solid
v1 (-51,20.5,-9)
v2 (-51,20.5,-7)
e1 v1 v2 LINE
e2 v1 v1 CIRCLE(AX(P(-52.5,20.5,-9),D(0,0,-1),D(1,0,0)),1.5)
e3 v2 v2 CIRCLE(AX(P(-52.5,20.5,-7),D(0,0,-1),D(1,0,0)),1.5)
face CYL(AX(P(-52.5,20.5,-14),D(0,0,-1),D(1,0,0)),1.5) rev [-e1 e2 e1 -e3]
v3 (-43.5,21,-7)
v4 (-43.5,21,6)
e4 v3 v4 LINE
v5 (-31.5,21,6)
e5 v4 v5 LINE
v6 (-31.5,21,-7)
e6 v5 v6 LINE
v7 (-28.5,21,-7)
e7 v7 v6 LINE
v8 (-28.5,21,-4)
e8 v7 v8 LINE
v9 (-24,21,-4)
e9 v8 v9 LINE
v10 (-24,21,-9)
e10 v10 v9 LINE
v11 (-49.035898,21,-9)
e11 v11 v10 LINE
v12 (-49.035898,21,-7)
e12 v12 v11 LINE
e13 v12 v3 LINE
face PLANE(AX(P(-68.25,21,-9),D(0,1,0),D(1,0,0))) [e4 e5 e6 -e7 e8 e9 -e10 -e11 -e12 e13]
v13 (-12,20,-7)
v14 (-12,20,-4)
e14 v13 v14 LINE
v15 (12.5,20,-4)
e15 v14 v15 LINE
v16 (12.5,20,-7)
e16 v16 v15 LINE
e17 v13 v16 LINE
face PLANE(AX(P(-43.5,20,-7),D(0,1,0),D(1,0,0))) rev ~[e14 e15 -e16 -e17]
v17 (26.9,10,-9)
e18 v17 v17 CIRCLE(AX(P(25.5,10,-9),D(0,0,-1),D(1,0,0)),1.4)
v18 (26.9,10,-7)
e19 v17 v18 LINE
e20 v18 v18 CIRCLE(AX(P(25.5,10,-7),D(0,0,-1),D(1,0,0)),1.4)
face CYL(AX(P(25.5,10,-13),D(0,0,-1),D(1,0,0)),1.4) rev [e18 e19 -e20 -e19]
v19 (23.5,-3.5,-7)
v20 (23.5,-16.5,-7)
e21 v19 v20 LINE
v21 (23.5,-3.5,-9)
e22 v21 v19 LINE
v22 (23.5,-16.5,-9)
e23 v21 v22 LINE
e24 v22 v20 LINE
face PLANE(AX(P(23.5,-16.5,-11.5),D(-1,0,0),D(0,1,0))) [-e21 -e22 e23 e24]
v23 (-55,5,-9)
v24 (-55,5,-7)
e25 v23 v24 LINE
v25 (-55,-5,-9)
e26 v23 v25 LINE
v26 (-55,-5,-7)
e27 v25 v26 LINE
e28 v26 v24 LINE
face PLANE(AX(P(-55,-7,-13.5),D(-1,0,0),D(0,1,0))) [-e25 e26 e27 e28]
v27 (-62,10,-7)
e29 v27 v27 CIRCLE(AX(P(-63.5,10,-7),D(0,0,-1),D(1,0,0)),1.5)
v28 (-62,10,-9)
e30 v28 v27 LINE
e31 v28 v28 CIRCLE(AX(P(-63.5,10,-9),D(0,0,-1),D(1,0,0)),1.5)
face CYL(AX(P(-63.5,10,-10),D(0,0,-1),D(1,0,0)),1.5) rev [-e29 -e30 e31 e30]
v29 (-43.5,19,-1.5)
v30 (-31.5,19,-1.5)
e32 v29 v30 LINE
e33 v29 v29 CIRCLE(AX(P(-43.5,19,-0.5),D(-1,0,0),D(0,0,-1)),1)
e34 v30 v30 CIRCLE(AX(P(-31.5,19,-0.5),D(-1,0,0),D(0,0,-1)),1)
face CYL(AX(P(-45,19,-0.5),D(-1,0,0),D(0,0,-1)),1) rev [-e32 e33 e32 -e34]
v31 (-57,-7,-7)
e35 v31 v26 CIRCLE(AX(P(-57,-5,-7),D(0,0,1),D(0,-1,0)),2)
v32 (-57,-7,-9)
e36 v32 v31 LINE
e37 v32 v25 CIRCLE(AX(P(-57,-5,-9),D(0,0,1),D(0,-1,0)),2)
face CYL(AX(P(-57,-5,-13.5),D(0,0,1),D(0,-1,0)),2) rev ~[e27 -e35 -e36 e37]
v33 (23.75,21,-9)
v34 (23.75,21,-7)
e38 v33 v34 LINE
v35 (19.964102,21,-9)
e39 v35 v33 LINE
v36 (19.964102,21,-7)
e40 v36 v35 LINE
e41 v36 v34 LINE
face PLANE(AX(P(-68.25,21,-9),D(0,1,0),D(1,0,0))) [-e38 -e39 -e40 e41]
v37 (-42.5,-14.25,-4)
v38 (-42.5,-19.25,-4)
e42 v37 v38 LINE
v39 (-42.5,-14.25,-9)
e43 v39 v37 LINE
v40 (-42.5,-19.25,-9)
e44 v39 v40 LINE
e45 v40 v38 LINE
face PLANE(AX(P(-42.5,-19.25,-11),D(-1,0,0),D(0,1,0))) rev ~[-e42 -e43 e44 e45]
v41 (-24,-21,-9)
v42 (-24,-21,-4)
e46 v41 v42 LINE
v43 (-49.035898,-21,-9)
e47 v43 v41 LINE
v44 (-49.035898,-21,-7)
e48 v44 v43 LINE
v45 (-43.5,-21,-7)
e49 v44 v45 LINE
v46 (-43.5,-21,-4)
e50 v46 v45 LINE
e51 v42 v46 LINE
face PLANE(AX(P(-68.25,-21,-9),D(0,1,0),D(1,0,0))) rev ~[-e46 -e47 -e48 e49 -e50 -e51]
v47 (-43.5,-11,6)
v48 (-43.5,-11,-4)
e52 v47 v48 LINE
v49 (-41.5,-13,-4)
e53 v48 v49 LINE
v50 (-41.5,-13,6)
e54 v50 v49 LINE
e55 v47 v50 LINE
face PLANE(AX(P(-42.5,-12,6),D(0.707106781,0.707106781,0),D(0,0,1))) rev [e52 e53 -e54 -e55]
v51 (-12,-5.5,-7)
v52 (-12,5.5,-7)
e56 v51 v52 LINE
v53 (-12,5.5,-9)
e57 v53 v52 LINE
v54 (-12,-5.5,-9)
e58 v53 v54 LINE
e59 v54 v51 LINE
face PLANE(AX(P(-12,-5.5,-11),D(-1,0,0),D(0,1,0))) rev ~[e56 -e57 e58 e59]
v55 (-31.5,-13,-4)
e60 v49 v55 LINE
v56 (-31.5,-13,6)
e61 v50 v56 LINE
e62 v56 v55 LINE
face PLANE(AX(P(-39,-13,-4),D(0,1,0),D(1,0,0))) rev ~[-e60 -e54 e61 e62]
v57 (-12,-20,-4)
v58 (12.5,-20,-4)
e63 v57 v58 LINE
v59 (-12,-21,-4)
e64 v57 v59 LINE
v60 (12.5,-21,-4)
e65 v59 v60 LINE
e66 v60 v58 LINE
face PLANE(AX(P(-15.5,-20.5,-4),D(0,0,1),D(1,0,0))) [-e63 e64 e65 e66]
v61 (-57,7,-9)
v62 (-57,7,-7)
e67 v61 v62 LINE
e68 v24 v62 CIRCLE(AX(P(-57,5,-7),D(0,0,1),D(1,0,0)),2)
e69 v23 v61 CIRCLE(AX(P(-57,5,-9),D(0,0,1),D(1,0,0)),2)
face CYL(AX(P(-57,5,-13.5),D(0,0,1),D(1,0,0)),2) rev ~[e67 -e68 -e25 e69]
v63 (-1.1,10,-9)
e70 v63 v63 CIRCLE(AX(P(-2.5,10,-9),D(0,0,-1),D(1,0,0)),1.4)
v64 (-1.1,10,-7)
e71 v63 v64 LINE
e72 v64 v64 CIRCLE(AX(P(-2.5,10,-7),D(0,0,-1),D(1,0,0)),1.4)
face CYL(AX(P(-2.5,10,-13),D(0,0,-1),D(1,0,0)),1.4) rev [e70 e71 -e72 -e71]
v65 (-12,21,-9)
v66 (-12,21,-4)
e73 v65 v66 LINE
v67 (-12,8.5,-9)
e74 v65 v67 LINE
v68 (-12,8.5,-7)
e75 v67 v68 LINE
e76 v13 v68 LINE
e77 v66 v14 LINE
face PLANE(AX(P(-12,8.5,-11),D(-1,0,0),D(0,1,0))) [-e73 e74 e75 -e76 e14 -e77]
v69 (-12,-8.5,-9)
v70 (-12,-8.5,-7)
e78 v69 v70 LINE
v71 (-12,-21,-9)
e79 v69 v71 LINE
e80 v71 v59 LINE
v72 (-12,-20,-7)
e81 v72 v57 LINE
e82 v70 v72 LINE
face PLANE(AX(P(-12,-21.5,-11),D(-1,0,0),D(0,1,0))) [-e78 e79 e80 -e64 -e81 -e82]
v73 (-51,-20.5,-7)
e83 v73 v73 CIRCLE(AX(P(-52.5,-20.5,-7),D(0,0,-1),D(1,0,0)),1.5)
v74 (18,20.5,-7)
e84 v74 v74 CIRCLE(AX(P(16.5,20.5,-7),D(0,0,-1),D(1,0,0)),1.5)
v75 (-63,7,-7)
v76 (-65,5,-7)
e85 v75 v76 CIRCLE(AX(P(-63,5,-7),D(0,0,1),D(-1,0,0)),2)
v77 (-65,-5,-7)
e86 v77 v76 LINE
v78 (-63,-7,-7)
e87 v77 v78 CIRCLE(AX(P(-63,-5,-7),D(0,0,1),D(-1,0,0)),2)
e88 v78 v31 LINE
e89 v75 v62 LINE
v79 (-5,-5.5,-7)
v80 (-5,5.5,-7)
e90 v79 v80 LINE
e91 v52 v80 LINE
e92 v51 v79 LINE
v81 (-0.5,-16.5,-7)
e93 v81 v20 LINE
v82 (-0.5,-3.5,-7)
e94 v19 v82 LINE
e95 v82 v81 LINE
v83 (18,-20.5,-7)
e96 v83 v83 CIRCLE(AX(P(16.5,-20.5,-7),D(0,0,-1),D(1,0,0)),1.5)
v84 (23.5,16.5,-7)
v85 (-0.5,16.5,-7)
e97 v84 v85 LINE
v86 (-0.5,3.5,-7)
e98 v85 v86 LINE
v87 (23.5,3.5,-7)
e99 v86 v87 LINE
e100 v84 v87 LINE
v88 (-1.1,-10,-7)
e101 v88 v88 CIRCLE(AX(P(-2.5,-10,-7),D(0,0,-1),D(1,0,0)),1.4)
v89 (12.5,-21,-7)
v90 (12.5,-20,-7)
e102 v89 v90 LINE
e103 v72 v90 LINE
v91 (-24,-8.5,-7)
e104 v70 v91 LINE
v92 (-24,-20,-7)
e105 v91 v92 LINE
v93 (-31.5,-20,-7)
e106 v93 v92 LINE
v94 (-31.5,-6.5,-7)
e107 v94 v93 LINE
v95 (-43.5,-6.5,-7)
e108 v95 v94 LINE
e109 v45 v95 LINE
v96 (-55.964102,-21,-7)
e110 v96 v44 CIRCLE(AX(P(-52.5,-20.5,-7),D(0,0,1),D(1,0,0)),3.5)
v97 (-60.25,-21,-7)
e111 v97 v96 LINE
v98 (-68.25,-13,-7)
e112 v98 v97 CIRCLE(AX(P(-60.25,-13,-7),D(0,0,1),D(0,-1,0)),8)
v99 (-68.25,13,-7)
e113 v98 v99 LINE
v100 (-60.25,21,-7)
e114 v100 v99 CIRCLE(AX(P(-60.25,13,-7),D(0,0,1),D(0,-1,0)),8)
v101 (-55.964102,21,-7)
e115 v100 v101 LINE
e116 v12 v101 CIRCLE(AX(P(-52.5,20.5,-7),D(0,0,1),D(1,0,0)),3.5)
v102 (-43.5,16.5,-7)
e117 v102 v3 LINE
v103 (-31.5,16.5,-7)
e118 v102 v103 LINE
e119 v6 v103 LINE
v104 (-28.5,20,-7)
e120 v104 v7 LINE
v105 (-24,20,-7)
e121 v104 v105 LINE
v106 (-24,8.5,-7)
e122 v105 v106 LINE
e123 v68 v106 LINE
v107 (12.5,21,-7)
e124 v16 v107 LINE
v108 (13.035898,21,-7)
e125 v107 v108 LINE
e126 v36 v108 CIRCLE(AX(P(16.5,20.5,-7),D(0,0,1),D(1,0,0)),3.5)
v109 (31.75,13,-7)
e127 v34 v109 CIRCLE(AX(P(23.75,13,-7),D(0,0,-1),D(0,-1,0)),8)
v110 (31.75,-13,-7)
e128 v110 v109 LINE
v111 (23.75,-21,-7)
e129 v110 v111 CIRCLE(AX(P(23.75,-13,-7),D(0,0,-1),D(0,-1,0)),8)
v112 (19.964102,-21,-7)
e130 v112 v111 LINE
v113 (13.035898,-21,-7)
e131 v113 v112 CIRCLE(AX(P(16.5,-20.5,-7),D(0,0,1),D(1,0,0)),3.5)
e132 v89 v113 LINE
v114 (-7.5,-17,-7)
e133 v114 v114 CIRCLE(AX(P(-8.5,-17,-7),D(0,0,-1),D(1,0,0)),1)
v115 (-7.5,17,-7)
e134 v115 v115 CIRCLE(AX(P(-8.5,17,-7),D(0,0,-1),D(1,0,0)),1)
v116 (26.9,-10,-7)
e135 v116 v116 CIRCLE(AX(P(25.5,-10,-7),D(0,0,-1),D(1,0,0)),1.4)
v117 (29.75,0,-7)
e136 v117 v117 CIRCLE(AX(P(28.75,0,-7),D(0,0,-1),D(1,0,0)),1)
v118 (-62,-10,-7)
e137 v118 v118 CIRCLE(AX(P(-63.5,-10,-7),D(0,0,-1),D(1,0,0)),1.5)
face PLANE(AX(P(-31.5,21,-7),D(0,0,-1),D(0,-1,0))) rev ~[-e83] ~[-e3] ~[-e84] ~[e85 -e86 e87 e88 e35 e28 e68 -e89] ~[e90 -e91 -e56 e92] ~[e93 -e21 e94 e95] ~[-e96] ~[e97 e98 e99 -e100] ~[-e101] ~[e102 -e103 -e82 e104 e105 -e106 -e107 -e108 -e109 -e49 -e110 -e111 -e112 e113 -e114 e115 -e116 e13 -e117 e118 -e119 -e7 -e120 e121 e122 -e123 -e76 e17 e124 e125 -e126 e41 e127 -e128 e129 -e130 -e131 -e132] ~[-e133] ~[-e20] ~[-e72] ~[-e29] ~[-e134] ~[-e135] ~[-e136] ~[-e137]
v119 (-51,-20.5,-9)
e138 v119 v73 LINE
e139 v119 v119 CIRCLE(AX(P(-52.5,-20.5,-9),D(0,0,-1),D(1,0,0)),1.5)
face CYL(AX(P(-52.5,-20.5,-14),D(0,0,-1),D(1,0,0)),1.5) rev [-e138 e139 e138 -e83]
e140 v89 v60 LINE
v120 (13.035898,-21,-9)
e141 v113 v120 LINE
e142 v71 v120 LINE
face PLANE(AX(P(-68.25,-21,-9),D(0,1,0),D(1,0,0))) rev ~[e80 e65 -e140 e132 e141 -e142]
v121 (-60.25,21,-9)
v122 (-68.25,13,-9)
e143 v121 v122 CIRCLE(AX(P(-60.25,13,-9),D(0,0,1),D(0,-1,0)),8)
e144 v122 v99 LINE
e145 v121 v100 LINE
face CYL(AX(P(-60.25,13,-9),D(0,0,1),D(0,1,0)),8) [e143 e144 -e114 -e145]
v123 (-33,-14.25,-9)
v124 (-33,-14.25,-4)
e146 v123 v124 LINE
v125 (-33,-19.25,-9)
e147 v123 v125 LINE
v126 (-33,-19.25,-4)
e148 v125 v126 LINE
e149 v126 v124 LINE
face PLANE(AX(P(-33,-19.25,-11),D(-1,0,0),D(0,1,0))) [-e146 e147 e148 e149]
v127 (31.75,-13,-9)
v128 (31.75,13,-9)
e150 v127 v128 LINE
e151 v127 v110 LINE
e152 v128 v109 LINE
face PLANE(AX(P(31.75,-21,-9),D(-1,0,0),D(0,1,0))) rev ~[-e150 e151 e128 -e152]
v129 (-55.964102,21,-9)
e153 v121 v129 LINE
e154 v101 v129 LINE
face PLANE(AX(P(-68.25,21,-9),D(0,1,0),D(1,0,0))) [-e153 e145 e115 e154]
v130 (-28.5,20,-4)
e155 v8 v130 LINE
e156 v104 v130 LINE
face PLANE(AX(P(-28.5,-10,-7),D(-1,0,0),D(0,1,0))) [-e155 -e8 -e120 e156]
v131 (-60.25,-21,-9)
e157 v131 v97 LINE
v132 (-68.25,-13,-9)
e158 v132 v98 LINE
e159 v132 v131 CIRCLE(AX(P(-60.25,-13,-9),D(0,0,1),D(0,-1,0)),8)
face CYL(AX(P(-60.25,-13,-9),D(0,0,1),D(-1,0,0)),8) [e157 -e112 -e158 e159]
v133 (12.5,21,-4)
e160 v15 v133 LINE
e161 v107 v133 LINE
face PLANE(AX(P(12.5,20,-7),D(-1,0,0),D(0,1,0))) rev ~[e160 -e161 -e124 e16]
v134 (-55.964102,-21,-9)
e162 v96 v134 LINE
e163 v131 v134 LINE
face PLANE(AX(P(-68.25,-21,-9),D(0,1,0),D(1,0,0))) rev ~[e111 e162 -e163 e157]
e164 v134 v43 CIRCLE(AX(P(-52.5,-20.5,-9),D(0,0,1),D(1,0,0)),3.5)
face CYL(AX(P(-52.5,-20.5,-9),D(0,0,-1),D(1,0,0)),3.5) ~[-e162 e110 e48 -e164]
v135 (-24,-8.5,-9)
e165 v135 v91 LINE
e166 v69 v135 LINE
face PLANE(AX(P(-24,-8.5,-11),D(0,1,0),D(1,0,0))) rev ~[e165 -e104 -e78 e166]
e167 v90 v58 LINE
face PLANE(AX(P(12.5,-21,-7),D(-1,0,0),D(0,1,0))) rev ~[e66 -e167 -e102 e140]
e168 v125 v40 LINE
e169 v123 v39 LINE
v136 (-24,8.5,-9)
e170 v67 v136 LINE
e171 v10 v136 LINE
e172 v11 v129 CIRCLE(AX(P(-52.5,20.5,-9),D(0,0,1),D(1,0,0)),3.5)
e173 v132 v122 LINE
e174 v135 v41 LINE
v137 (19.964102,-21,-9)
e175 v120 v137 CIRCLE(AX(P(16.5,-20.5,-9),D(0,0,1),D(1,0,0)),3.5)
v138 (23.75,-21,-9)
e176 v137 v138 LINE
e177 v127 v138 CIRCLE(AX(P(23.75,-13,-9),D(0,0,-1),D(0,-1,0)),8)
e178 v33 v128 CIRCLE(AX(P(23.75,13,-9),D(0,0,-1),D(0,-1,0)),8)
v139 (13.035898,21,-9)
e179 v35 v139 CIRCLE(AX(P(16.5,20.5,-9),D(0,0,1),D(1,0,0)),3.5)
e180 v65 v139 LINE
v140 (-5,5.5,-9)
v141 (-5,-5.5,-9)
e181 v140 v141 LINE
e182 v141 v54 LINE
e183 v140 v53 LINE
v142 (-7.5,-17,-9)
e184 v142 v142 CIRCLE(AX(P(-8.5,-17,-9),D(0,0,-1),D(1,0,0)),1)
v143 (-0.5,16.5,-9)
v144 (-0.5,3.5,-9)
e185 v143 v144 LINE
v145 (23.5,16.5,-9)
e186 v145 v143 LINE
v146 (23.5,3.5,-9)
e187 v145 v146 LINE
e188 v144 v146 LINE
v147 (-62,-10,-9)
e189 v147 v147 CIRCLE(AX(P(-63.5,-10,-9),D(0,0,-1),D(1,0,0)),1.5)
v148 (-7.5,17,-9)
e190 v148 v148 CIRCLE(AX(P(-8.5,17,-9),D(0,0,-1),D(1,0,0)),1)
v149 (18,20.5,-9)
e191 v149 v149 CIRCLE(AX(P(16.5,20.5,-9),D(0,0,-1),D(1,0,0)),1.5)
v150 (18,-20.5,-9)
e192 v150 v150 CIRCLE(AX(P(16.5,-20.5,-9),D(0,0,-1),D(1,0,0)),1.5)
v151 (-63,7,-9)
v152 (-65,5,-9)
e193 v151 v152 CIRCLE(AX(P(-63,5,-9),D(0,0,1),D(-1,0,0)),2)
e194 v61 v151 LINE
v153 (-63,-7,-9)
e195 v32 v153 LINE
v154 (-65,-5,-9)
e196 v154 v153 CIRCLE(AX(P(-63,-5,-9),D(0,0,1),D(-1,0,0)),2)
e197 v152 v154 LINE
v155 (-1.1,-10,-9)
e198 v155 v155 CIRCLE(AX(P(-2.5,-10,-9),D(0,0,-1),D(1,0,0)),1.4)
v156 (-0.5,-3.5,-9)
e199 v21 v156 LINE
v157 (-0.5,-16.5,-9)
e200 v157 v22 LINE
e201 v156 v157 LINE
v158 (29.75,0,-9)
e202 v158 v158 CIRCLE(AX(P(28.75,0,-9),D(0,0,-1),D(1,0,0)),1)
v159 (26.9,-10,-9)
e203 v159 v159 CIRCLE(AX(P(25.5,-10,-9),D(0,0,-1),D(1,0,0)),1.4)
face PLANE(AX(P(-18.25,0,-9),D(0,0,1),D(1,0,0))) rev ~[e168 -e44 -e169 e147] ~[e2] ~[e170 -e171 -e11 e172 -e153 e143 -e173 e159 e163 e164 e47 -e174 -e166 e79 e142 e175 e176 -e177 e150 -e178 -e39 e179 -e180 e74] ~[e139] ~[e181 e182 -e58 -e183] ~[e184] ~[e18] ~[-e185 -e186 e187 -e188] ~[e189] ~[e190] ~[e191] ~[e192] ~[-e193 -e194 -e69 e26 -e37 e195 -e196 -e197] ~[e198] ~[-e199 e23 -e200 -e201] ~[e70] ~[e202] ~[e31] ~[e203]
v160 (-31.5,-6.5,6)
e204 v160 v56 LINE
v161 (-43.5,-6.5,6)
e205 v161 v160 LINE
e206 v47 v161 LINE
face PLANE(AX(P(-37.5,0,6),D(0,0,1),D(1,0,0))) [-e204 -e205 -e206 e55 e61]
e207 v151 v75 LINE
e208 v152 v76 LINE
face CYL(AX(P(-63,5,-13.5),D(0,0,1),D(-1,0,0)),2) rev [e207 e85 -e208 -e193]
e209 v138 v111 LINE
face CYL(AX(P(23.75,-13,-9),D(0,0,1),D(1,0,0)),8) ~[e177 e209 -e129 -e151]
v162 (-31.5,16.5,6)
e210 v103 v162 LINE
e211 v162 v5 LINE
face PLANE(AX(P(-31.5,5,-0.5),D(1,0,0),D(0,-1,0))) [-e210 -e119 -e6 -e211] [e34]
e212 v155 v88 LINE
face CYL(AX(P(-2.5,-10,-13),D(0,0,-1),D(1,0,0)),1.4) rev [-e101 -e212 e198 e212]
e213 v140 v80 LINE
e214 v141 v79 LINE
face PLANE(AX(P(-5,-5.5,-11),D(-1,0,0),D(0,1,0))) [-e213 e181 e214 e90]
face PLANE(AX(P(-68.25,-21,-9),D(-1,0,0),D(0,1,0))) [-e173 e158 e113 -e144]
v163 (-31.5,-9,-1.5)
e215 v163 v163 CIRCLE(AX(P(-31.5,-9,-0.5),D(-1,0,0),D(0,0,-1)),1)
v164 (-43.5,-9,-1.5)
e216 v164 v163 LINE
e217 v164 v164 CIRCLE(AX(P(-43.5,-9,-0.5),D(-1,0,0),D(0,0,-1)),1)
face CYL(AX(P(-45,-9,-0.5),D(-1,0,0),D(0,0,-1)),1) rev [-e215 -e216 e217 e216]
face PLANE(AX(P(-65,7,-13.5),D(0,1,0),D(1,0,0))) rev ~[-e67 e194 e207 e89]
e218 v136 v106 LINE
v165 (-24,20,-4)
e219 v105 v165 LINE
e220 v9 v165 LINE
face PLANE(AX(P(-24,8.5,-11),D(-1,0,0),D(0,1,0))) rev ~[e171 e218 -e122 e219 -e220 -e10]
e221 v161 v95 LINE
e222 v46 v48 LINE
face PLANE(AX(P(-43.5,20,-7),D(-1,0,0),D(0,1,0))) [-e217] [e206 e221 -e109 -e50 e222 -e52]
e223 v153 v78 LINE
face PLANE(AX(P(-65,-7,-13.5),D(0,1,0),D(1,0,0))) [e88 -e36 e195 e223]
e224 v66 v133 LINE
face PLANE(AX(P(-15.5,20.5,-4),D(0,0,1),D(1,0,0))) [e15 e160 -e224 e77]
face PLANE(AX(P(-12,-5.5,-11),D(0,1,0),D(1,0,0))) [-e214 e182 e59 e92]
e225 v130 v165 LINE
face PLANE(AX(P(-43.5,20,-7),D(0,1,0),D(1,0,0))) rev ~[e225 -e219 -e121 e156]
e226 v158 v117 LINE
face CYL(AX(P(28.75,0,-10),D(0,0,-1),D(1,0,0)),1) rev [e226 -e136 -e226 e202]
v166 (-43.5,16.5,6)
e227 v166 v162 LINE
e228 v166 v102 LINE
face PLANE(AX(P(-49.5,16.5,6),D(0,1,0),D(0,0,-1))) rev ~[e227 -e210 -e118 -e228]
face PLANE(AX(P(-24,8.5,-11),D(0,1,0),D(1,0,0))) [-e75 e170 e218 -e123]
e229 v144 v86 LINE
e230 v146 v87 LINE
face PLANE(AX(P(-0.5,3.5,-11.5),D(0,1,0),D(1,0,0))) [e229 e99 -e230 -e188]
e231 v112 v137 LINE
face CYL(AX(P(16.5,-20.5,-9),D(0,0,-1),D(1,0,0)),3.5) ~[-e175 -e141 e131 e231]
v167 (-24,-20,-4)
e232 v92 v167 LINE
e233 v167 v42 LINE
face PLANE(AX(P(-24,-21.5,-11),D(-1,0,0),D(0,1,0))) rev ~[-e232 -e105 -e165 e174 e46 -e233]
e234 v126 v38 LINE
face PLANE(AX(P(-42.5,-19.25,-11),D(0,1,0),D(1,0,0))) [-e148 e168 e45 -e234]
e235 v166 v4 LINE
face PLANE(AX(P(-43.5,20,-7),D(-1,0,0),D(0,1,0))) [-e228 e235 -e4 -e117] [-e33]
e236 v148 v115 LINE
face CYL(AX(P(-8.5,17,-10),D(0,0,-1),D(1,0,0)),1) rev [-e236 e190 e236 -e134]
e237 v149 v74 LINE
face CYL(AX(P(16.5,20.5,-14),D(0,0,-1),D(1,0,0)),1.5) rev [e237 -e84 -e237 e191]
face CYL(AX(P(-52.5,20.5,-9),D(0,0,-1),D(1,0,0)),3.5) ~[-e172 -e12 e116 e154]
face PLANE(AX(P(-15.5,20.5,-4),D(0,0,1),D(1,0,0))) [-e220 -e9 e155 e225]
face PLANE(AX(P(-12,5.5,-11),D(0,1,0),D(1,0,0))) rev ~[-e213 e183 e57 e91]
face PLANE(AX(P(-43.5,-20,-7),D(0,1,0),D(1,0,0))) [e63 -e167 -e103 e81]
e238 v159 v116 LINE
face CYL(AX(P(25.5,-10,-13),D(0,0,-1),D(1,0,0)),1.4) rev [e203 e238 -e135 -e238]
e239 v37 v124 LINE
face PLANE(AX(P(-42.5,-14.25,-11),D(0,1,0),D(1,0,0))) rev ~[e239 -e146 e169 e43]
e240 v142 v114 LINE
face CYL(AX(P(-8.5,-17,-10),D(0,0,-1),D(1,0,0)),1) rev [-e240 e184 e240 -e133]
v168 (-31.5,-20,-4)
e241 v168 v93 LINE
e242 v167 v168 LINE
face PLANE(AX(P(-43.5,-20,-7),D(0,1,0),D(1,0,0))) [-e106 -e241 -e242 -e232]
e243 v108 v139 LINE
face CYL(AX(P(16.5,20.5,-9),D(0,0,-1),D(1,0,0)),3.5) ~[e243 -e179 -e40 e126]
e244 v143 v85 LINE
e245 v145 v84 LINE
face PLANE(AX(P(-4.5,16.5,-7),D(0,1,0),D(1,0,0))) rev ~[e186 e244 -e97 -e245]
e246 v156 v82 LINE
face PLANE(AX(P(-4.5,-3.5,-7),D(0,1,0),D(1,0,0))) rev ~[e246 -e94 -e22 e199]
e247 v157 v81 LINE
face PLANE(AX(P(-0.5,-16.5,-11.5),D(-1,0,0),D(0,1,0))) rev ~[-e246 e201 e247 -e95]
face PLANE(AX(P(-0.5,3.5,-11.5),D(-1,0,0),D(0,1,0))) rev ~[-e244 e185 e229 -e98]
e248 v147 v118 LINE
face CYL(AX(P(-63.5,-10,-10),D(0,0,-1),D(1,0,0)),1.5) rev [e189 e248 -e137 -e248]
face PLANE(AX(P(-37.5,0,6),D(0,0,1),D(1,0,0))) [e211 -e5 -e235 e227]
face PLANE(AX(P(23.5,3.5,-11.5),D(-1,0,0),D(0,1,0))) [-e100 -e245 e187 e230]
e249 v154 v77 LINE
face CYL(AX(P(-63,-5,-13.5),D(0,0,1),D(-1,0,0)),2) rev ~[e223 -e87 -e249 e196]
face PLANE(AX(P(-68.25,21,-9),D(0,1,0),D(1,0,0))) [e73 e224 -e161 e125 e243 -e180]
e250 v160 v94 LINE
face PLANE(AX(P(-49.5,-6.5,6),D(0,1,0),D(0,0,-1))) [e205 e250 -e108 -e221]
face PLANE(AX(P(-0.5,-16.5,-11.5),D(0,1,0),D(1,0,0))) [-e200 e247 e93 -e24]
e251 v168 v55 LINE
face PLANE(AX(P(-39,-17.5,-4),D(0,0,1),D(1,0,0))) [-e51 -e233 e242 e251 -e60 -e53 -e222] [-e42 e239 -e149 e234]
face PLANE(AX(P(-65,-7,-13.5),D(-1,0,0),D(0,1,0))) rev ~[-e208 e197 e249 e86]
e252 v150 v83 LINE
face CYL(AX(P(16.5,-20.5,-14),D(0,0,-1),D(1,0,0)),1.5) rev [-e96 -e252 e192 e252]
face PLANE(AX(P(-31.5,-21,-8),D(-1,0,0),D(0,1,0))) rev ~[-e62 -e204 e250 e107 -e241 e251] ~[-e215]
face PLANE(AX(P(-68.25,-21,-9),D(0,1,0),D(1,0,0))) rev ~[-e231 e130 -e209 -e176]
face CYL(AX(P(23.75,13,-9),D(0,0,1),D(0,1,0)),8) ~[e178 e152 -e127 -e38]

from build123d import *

# Parameters (mm, degrees)
BOX158_W               = 10
BOX158_H               = 10
BOX158_DEPTH           = 11
BOX087_W               = 7
BOX087_H               = 11
BOX087_DEPTH           = 10
CYLINDER154_R          = 1
CYLINDER154_DEPTH      = 25
CYLINDER150_R          = 1
CYLINDER150_DEPTH      = 25
CYLINDER151_R          = 1.5
CYLINDER151_DEPTH      = 25
CYLINDER146_R          = 1.5
CYLINDER146_DEPTH      = 25
CYLINDER147_R          = 1
CYLINDER147_DEPTH      = 25
BOX083_W               = 10
BOX083_H               = 14
BOX083_DEPTH           = 10
FILLET079_R            = 2
BOX086_W               = 9.5
BOX086_H               = 5
BOX086_DEPTH           = 10
CYLINDER024_R          = 1
CYLINDER024_DEPTH      = 20
CYLINDER023_R          = 1
CYLINDER023_DEPTH      = 20
CYLINDER029_R          = 1.5
CYLINDER029_DEPTH      = 10
CYLINDER026_R          = 1.5
CYLINDER026_DEPTH      = 5
CYLINDER030_R          = 1.5
CYLINDER030_DEPTH      = 10
CYLINDER027_R          = 3.5
CYLINDER027_DEPTH      = 5
BOX015_W               = 32
BOX015_H               = 13
BOX015_DEPTH           = 2
CYLINDER028_R          = 6.5
CYLINDER028_DEPTH      = 6
BOX014_W               = 23
BOX014_H               = 13
BOX014_DEPTH           = 23
CUT005_ROLL_ANGLE      = -90
CUT005_PLACEMENT_ANGLE = -90
BOX053_W               = 3
BOX053_H               = 33
BOX053_DEPTH           = 10
BOX055_W               = 24
BOX055_H               = 13
BOX055_DEPTH           = 10
BOX054_W               = 24
BOX054_H               = 13
BOX054_DEPTH           = 10
BOX062_W               = 5
BOX062_H               = 6
BOX062_DEPTH           = 5
BOX065_W               = 12
BOX065_H               = 9
BOX065_DEPTH           = 12
BOX041_W               = 12
BOX041_H               = 13
BOX041_DEPTH           = 10
BOX040_W               = 12
BOX040_H               = 13
BOX040_DEPTH           = 10
BOX039_W               = 56
BOX039_H               = 1
BOX039_DEPTH           = 3
BOX038_W               = 56
BOX038_H               = 1
BOX038_DEPTH           = 3
CYLINDER080_R          = 1.4
CYLINDER080_DEPTH      = 10
CYLINDER082_R          = 1.4
CYLINDER082_DEPTH      = 10
CYLINDER079_R          = 1.4
CYLINDER079_DEPTH      = 10
CYLINDER075_R          = 1.5
CYLINDER075_DEPTH      = 10
CYLINDER076_R          = 1.5
CYLINDER076_DEPTH      = 10
CYLINDER047_R          = 1.5
CYLINDER047_DEPTH      = 10
CYLINDER048_R          = 1.5
CYLINDER048_DEPTH      = 10
CYLINDER081_R          = 1.4
CYLINDER081_DEPTH      = 10
CYLINDER036_R          = 1.5
CYLINDER036_DEPTH      = 10
CYLINDER039_R          = 1.5
CYLINDER039_DEPTH      = 5
CYLINDER040_R          = 1.5
CYLINDER040_DEPTH      = 10
CYLINDER037_R          = 3.5
CYLINDER037_DEPTH      = 5
BOX018_W               = 32
BOX018_H               = 13
BOX018_DEPTH           = 2
CYLINDER038_R          = 6.5
CYLINDER038_DEPTH      = 6
BOX019_W               = 23
BOX019_H               = 13
BOX019_DEPTH           = 23
CYLINDER033_R          = 1.5
CYLINDER033_DEPTH      = 10
CYLINDER031_R          = 1.5
CYLINDER031_DEPTH      = 5
CYLINDER032_R          = 1.5
CYLINDER032_DEPTH      = 10
CYLINDER034_R          = 3.5
CYLINDER034_DEPTH      = 5
BOX017_W               = 32
BOX017_H               = 13
BOX017_DEPTH           = 2
CYLINDER035_R          = 6.5
CYLINDER035_DEPTH      = 6
BOX016_W               = 23
BOX016_H               = 13
BOX016_DEPTH           = 23
CYLINDER044_R          = 3.5
CYLINDER044_DEPTH      = 2
BOX007_W               = 100
BOX007_H               = 42
BOX007_DEPTH           = 2
CYLINDER077_R          = 3.5
CYLINDER077_DEPTH      = 2
CYLINDER078_R          = 3.5
CYLINDER078_DEPTH      = 2
CYLINDER043_R          = 3.5
CYLINDER043_DEPTH      = 2
BOX012_W               = 12
BOX012_H               = 42
BOX012_DEPTH           = 14
FILLET080_R            = 8
CHAMFER017_SIZE        = 2


with BuildPart() as w_rfel147:
    # Box158 → Box158 (new body)
    with BuildSketch(Plane(origin=(-39, -23, -4), x_dir=(1, 0, 0), z_dir=(0, 0, 1))):
        with Locations((5, 5)):
            Rectangle(BOX158_W, BOX158_H)
    extrude(amount=BOX158_DEPTH)


with BuildPart() as w_rfel084:
    # Box087 → Box087 (new body)
    with BuildSketch(Plane(origin=(-12, -5.5, -11), x_dir=(1, 0, 0), z_dir=(0, 0, 1))):
        with Locations((3.5, 5.5)):
            Rectangle(BOX087_W, BOX087_H)
    extrude(amount=BOX087_DEPTH)


with BuildPart() as zylinder154:
    # Cylinder154 → Cylinder154 (new body)
    with BuildSketch(Plane(origin=(28.75, 0, -10), x_dir=(1, 0, 0), z_dir=(0, 0, 1))):
        Circle(CYLINDER154_R)
    extrude(amount=CYLINDER154_DEPTH)


with BuildPart() as zylinder150:
    # Cylinder150 → Cylinder150 (new body)
    with BuildSketch(Plane(origin=(-8.5, -17, -10), x_dir=(1, 0, 0), z_dir=(0, 0, 1))):
        Circle(CYLINDER150_R)
    extrude(amount=CYLINDER150_DEPTH)


with BuildPart() as zylinder151:
    # Cylinder151 → Cylinder151 (new body)
    with BuildSketch(Plane(origin=(-63.5, -10, -10), x_dir=(1, 0, 0), z_dir=(0, 0, 1))):
        Circle(CYLINDER151_R)
    extrude(amount=CYLINDER151_DEPTH)


with BuildPart() as zylinder146:
    # Cylinder146 → Cylinder146 (new body)
    with BuildSketch(Plane(origin=(-63.5, 10, -10), x_dir=(1, 0, 0), z_dir=(0, 0, 1))):
        Circle(CYLINDER146_R)
    extrude(amount=CYLINDER146_DEPTH)


with BuildPart() as zylinder147:
    # Cylinder147 → Cylinder147 (new body)
    with BuildSketch(Plane(origin=(-8.5, 17, -10), x_dir=(1, 0, 0), z_dir=(0, 0, 1))):
        Circle(CYLINDER147_R)
    extrude(amount=CYLINDER147_DEPTH)


with BuildPart() as fillet079:
    # Box083 → Box083 (new body)
    with BuildSketch(Plane(origin=(-65, -7, -13.5), x_dir=(1, 0, 0), z_dir=(0, 0, 1))):
        with Locations((5, 7)):
            Rectangle(BOX083_W, BOX083_H)
    extrude(amount=BOX083_DEPTH)

    # Fillet079
    fillet079_edges = [fillet079.edges().sort_by_distance(p)[0] for p in [
        (-65, -7, -8.5),
        (-65, 7, -8.5),
        (-55, -7, -8.5),
        (-55, 7, -8.5),
    ]]
    fillet(fillet079_edges, radius=FILLET079_R)


with BuildPart() as fusion092:
    # Box086 → Box086 (new body)
    with BuildSketch(Plane(origin=(-42.5, -19.25, -11), x_dir=(1, 0, 0), z_dir=(0, 0, 1))):
        with Locations((4.75, 2.5)):
            Rectangle(BOX086_W, BOX086_H)
    extrude(amount=BOX086_DEPTH)

    # Fusion092: union Würfel084, Zylinder154, Zylinder150, Zylinder151, Zylinder146, Zylinder147, Fillet079
    add(w_rfel084.part)
    add(zylinder154.part)
    add(zylinder150.part)
    add(zylinder151.part)
    add(zylinder146.part)
    add(zylinder147.part)
    add(fillet079.part)


with BuildPart() as zylinder024:
    # Cylinder024 → Cylinder024 (new body)
    with BuildSketch(Plane(origin=(-45, 19, -1.5), x_dir=(0, 0, -1), z_dir=(1, 0, 0))):
        Circle(CYLINDER024_R)
    extrude(amount=CYLINDER024_DEPTH)


with BuildPart() as fusion010:
    # Cylinder023 → Cylinder023 (new body)
    with BuildSketch(Plane(origin=(-45, -9, -1.5), x_dir=(0, 0, -1), z_dir=(1, 0, 0))):
        Circle(CYLINDER023_R)
    extrude(amount=CYLINDER023_DEPTH)

    # Fusion010: union Zylinder024
    add(zylinder024.part)


with BuildPart() as zylinder029:
    # Cylinder029 → Cylinder029 (new body)
    with BuildSketch(Plane(origin=(25.5, 6.5, 13), x_dir=(1, 0, 0), z_dir=(0, 0, 1))):
        Circle(CYLINDER029_R)
    extrude(amount=CYLINDER029_DEPTH)


with BuildPart() as zylinder026:
    # Cylinder026 → Cylinder026 (new body)
    with BuildSketch(Plane(origin=(16.5, 6.5, 30), x_dir=(1, 0, 0), z_dir=(0, 0, 1))):
        Circle(CYLINDER026_R)
    extrude(amount=CYLINDER026_DEPTH)


with BuildPart() as fusion013:
    # Cylinder030 → Cylinder030 (new body)
    with BuildSketch(Plane(origin=(-2.5, 6.5, 13), x_dir=(1, 0, 0), z_dir=(0, 0, 1))):
        Circle(CYLINDER030_R)
    extrude(amount=CYLINDER030_DEPTH)

    # Fusion013: union Zylinder029, Zylinder026
    add(zylinder029.part)
    add(zylinder026.part)


with BuildPart() as zylinder027:
    # Cylinder027 → Cylinder027 (new body)
    with BuildSketch(Plane(origin=(16.5, 6.5, 29), x_dir=(1, 0, 0), z_dir=(0, 0, 1))):
        Circle(CYLINDER027_R)
    extrude(amount=CYLINDER027_DEPTH)


with BuildPart() as w_rfel015:
    # Box015 → Box015 (new body)
    with BuildSketch(Plane(origin=(-4.5, 0, 18), x_dir=(1, 0, 0), z_dir=(0, 0, 1))):
        with Locations((16, 6.5)):
            Rectangle(BOX015_W, BOX015_H)
    extrude(amount=BOX015_DEPTH)


with BuildPart() as zylinder028:
    # Cylinder028 → Cylinder028 (new body)
    with BuildSketch(Plane(origin=(16.5, 6.5, 23), x_dir=(1, 0, 0), z_dir=(0, 0, 1))):
        Circle(CYLINDER028_R)
    extrude(amount=CYLINDER028_DEPTH)


with BuildPart() as servo3_mask:
    # Box014 → Box014 (new body)
    with BuildSketch(Plane.XY):
        with Locations((11.5, 6.5)):
            Rectangle(BOX014_W, BOX014_H)
    extrude(amount=BOX014_DEPTH)

    # Fusion012: union Zylinder027, Würfel015, Zylinder028
    add(zylinder027.part)
    add(w_rfel015.part)
    add(zylinder028.part)

    # Cut005: cut Fusion013
    add(fusion013.part, mode=Mode.SUBTRACT)


with BuildPart() as servo3_mask_1:
    # Cut005 roll: moved
    add(servo3_mask.part.rotate(Axis((0, 0, 0), (1, 0, 0)), CUT005_ROLL_ANGLE))


with BuildPart() as servo3_mask_2:
    # Cut005 placement: moved
    add(servo3_mask_1.part.moved(Location((-49.5, 16.5, 5))).rotate(Axis((-49.5, 16.5, 5), (0, 0, 1)), CUT005_PLACEMENT_ANGLE))


with BuildPart() as w_rfel053:
    # Box053 → Box053 (new body)
    with BuildSketch(Plane(origin=(-31.5, -10, -8), x_dir=(1, 0, 0), z_dir=(0, 0, 1))):
        with Locations((1.5, 16.5)):
            Rectangle(BOX053_W, BOX053_H)
    extrude(amount=BOX053_DEPTH)


with BuildPart() as w_rfel055:
    # Box055 → Box055 (new body)
    with BuildSketch(Plane(origin=(-0.5, -16.5, -12.5), x_dir=(1, 0, 0), z_dir=(0, 0, 1))):
        with Locations((12, 6.5)):
            Rectangle(BOX055_W, BOX055_H)
    extrude(amount=BOX055_DEPTH)


with BuildPart() as w_rfel054:
    # Box054 → Box054 (new body)
    with BuildSketch(Plane(origin=(-0.5, 3.5, -12.5), x_dir=(1, 0, 0), z_dir=(0, 0, 1))):
        with Locations((12, 6.5)):
            Rectangle(BOX054_W, BOX054_H)
    extrude(amount=BOX054_DEPTH)


with BuildPart() as w_rfel062:
    # Box062 → Box062 (new body)
    with BuildSketch(Plane(origin=(-29, 5, -8), x_dir=(1, 0, 0), z_dir=(0, 0, 1))):
        with Locations((2.5, 3)):
            Rectangle(BOX062_W, BOX062_H)
    extrude(amount=BOX062_DEPTH)


with BuildPart() as fusion063:
    # Box065 → Box065 (new body)
    with BuildSketch(Plane(origin=(-45, -22, -5), x_dir=(1, 0, 0), z_dir=(0, 0, 1))):
        with Locations((6, 4.5)):
            Rectangle(BOX065_W, BOX065_H)
    extrude(amount=BOX065_DEPTH)

    # Fusion063: union Fusion010, Servo3_mask, Würfel053, Würfel055, Würfel054, Würfel062
    add(fusion010.part)
    add(servo3_mask_2.part)
    add(w_rfel053.part)
    add(w_rfel055.part)
    add(w_rfel054.part)
    add(w_rfel062.part)


with BuildPart() as fusion063_1:
    # Fusion063 placement: moved
    add(fusion063.part.moved(Location((0, 0, 1))))


with BuildPart() as w_rfel041:
    # Box041 → Box041 (new body)
    with BuildSketch(Plane(origin=(-24, 8.5, -11), x_dir=(1, 0, 0), z_dir=(0, 0, 1))):
        with Locations((6, 6.5)):
            Rectangle(BOX041_W, BOX041_H)
    extrude(amount=BOX041_DEPTH)


with BuildPart() as fusion044:
    # Box040 → Box040 (new body)
    with BuildSketch(Plane(origin=(-24, -21.5, -11), x_dir=(1, 0, 0), z_dir=(0, 0, 1))):
        with Locations((6, 6.5)):
            Rectangle(BOX040_W, BOX040_H)
    extrude(amount=BOX040_DEPTH)

    # Fusion044: union Würfel041
    add(w_rfel041.part)


with BuildPart() as w_rfel039:
    # Box039 → Box039 (new body)
    with BuildSketch(Plane(origin=(-43.5, -21, -7), x_dir=(1, 0, 0), z_dir=(0, 0, 1))):
        with Locations((28, 0.5)):
            Rectangle(BOX039_W, BOX039_H)
    extrude(amount=BOX039_DEPTH)


with BuildPart() as fusion042:
    # Box038 → Box038 (new body)
    with BuildSketch(Plane(origin=(-43.5, 20, -7), x_dir=(1, 0, 0), z_dir=(0, 0, 1))):
        with Locations((28, 0.5)):
            Rectangle(BOX038_W, BOX038_H)
    extrude(amount=BOX038_DEPTH)

    # Fusion042: union Würfel039
    add(w_rfel039.part)


with BuildPart() as zylinder080:
    # Cylinder080 → Cylinder080 (new body)
    with BuildSketch(Plane(origin=(25.5, 10, -13), x_dir=(1, 0, 0), z_dir=(0, 0, 1))):
        Circle(CYLINDER080_R)
    extrude(amount=CYLINDER080_DEPTH)


with BuildPart() as zylinder082:
    # Cylinder082 → Cylinder082 (new body)
    with BuildSketch(Plane(origin=(-2.5, -10, -13), x_dir=(1, 0, 0), z_dir=(0, 0, 1))):
        Circle(CYLINDER082_R)
    extrude(amount=CYLINDER082_DEPTH)


with BuildPart() as zylinder079:
    # Cylinder079 → Cylinder079 (new body)
    with BuildSketch(Plane(origin=(-2.5, 10, -13), x_dir=(1, 0, 0), z_dir=(0, 0, 1))):
        Circle(CYLINDER079_R)
    extrude(amount=CYLINDER079_DEPTH)


with BuildPart() as zylinder075:
    # Cylinder075 → Cylinder075 (new body)
    with BuildSketch(Plane(origin=(-52.5, -20.5, -14), x_dir=(1, 0, 0), z_dir=(0, 0, 1))):
        Circle(CYLINDER075_R)
    extrude(amount=CYLINDER075_DEPTH)


with BuildPart() as zylinder076:
    # Cylinder076 → Cylinder076 (new body)
    with BuildSketch(Plane(origin=(-52.5, 20.5, -14), x_dir=(1, 0, 0), z_dir=(0, 0, 1))):
        Circle(CYLINDER076_R)
    extrude(amount=CYLINDER076_DEPTH)


with BuildPart() as zylinder047:
    # Cylinder047 → Cylinder047 (new body)
    with BuildSketch(Plane(origin=(16.5, -20.5, -14), x_dir=(1, 0, 0), z_dir=(0, 0, 1))):
        Circle(CYLINDER047_R)
    extrude(amount=CYLINDER047_DEPTH)


with BuildPart() as zylinder048:
    # Cylinder048 → Cylinder048 (new body)
    with BuildSketch(Plane(origin=(16.5, 20.5, -14), x_dir=(1, 0, 0), z_dir=(0, 0, 1))):
        Circle(CYLINDER048_R)
    extrude(amount=CYLINDER048_DEPTH)


with BuildPart() as fusion039:
    # Cylinder081 → Cylinder081 (new body)
    with BuildSketch(Plane(origin=(25.5, -10, -13), x_dir=(1, 0, 0), z_dir=(0, 0, 1))):
        Circle(CYLINDER081_R)
    extrude(amount=CYLINDER081_DEPTH)

    # Fusion039: union Zylinder080, Zylinder082, Zylinder079, Zylinder075, Zylinder076, Zylinder047, Zylinder048
    add(zylinder080.part)
    add(zylinder082.part)
    add(zylinder079.part)
    add(zylinder075.part)
    add(zylinder076.part)
    add(zylinder047.part)
    add(zylinder048.part)


with BuildPart() as zylinder036:
    # Cylinder036 → Cylinder036 (new body)
    with BuildSketch(Plane(origin=(25.5, 6.5, 13), x_dir=(1, 0, 0), z_dir=(0, 0, 1))):
        Circle(CYLINDER036_R)
    extrude(amount=CYLINDER036_DEPTH)


with BuildPart() as zylinder039:
    # Cylinder039 → Cylinder039 (new body)
    with BuildSketch(Plane(origin=(16.5, 6.5, 30), x_dir=(1, 0, 0), z_dir=(0, 0, 1))):
        Circle(CYLINDER039_R)
    extrude(amount=CYLINDER039_DEPTH)


with BuildPart() as fusion016:
    # Cylinder040 → Cylinder040 (new body)
    with BuildSketch(Plane(origin=(-2.5, 6.5, 13), x_dir=(1, 0, 0), z_dir=(0, 0, 1))):
        Circle(CYLINDER040_R)
    extrude(amount=CYLINDER040_DEPTH)

    # Fusion016: union Zylinder036, Zylinder039
    add(zylinder036.part)
    add(zylinder039.part)


with BuildPart() as zylinder037:
    # Cylinder037 → Cylinder037 (new body)
    with BuildSketch(Plane(origin=(16.5, 6.5, 29), x_dir=(1, 0, 0), z_dir=(0, 0, 1))):
        Circle(CYLINDER037_R)
    extrude(amount=CYLINDER037_DEPTH)


with BuildPart() as w_rfel018:
    # Box018 → Box018 (new body)
    with BuildSketch(Plane(origin=(-4.5, 0, 18), x_dir=(1, 0, 0), z_dir=(0, 0, 1))):
        with Locations((16, 6.5)):
            Rectangle(BOX018_W, BOX018_H)
    extrude(amount=BOX018_DEPTH)


with BuildPart() as zylinder038:
    # Cylinder038 → Cylinder038 (new body)
    with BuildSketch(Plane(origin=(16.5, 6.5, 23), x_dir=(1, 0, 0), z_dir=(0, 0, 1))):
        Circle(CYLINDER038_R)
    extrude(amount=CYLINDER038_DEPTH)


with BuildPart() as servo2_mask:
    # Box019 → Box019 (new body)
    with BuildSketch(Plane.XY):
        with Locations((11.5, 6.5)):
            Rectangle(BOX019_W, BOX019_H)
    extrude(amount=BOX019_DEPTH)

    # Fusion017: union Zylinder037, Würfel018, Zylinder038
    add(zylinder037.part)
    add(w_rfel018.part)
    add(zylinder038.part)

    # Cut008: cut Fusion016
    add(fusion016.part, mode=Mode.SUBTRACT)


with BuildPart() as servo2_mask_1:
    # Cut008 placement: moved
    add(servo2_mask.part.moved(Location((0, -16.5, -25))))


with BuildPart() as zylinder033:
    # Cylinder033 → Cylinder033 (new body)
    with BuildSketch(Plane(origin=(25.5, 6.5, 13), x_dir=(1, 0, 0), z_dir=(0, 0, 1))):
        Circle(CYLINDER033_R)
    extrude(amount=CYLINDER033_DEPTH)


with BuildPart() as zylinder031:
    # Cylinder031 → Cylinder031 (new body)
    with BuildSketch(Plane(origin=(16.5, 6.5, 30), x_dir=(1, 0, 0), z_dir=(0, 0, 1))):
        Circle(CYLINDER031_R)
    extrude(amount=CYLINDER031_DEPTH)


with BuildPart() as fusion015:
    # Cylinder032 → Cylinder032 (new body)
    with BuildSketch(Plane(origin=(-2.5, 6.5, 13), x_dir=(1, 0, 0), z_dir=(0, 0, 1))):
        Circle(CYLINDER032_R)
    extrude(amount=CYLINDER032_DEPTH)

    # Fusion015: union Zylinder033, Zylinder031
    add(zylinder033.part)
    add(zylinder031.part)


with BuildPart() as zylinder034:
    # Cylinder034 → Cylinder034 (new body)
    with BuildSketch(Plane(origin=(16.5, 6.5, 29), x_dir=(1, 0, 0), z_dir=(0, 0, 1))):
        Circle(CYLINDER034_R)
    extrude(amount=CYLINDER034_DEPTH)


with BuildPart() as w_rfel017:
    # Box017 → Box017 (new body)
    with BuildSketch(Plane(origin=(-4.5, 0, 18), x_dir=(1, 0, 0), z_dir=(0, 0, 1))):
        with Locations((16, 6.5)):
            Rectangle(BOX017_W, BOX017_H)
    extrude(amount=BOX017_DEPTH)


with BuildPart() as zylinder035:
    # Cylinder035 → Cylinder035 (new body)
    with BuildSketch(Plane(origin=(16.5, 6.5, 23), x_dir=(1, 0, 0), z_dir=(0, 0, 1))):
        Circle(CYLINDER035_R)
    extrude(amount=CYLINDER035_DEPTH)


with BuildPart() as fusion040:
    # Box016 → Box016 (new body)
    with BuildSketch(Plane.XY):
        with Locations((11.5, 6.5)):
            Rectangle(BOX016_W, BOX016_H)
    extrude(amount=BOX016_DEPTH)

    # Fusion014: union Zylinder034, Würfel017, Zylinder035
    add(zylinder034.part)
    add(w_rfel017.part)
    add(zylinder035.part)

    # Cut007: cut Fusion015
    add(fusion015.part, mode=Mode.SUBTRACT)


with BuildPart() as fusion040_1:
    # Cut007 placement: moved
    add(fusion040.part.moved(Location((0, 3.5, -25))))

    # Fusion022: union Servo2_mask
    add(servo2_mask_1.part)

    # Fusion040: union Fusion039
    add(fusion039.part)


with BuildPart() as zylinder044:
    # Cylinder044 → Cylinder044 (new body)
    with BuildSketch(Plane(origin=(16.5, -20.5, -9), x_dir=(1, 0, 0), z_dir=(0, 0, 1))):
        Circle(CYLINDER044_R)
    extrude(amount=CYLINDER044_DEPTH)


with BuildPart() as base:
    # Box007 → Box007 (new body)
    with BuildSketch(Plane(origin=(-68.25, -21, -9), x_dir=(1, 0, 0), z_dir=(0, 0, 1))):
        with Locations((50, 21)):
            Rectangle(BOX007_W, BOX007_H)
    extrude(amount=BOX007_DEPTH)


with BuildPart() as zylinder077:
    # Cylinder077 → Cylinder077 (new body)
    with BuildSketch(Plane(origin=(-52.5, 20.5, -9), x_dir=(1, 0, 0), z_dir=(0, 0, 1))):
        Circle(CYLINDER077_R)
    extrude(amount=CYLINDER077_DEPTH)


with BuildPart() as zylinder078:
    # Cylinder078 → Cylinder078 (new body)
    with BuildSketch(Plane(origin=(-52.5, -20.5, -9), x_dir=(1, 0, 0), z_dir=(0, 0, 1))):
        Circle(CYLINDER078_R)
    extrude(amount=CYLINDER078_DEPTH)


with BuildPart() as fusion043:
    # Cylinder043 → Cylinder043 (new body)
    with BuildSketch(Plane(origin=(16.5, 20.5, -9), x_dir=(1, 0, 0), z_dir=(0, 0, 1))):
        Circle(CYLINDER043_R)
    extrude(amount=CYLINDER043_DEPTH)

    # Fusion041: union Zylinder044, Base, Zylinder077, Zylinder078
    add(zylinder044.part)
    add(base.part)
    add(zylinder077.part)
    add(zylinder078.part)

    # Cut026: cut Fusion040
    add(fusion040_1.part, mode=Mode.SUBTRACT)

    # Fusion043: union Fusion042
    add(fusion042.part)


with BuildPart() as cut107:
    # Box012 → Box012 (new body)
    with BuildSketch(Plane(origin=(-43.5, -21, -8), x_dir=(1, 0, 0), z_dir=(0, 0, 1))):
        with Locations((6, 21)):
            Rectangle(BOX012_W, BOX012_H)
    extrude(amount=BOX012_DEPTH)

    # Fusion065: union Fusion043
    add(fusion043.part)

    # Cut046: cut Fusion044
    add(fusion044.part, mode=Mode.SUBTRACT)

    # Cut047: cut Fusion063
    add(fusion063_1.part, mode=Mode.SUBTRACT)

    # Cut072: cut Fusion092
    add(fusion092.part, mode=Mode.SUBTRACT)

    # Fillet080
    fillet080_edges = [cut107.edges().sort_by_distance(p)[0] for p in [
        (-68.25, 21, -8),
        (-68.25, -21, -8),
        (31.75, 21, -8),
        (31.75, -21, -8),
    ]]
    fillet(fillet080_edges, radius=FILLET080_R)

    # Chamfer017
    chamfer017_edges = [cut107.edges().sort_by_distance(p)[0] for p in [
        (-43.5, -13, 1),
    ]]
    chamfer(chamfer017_edges, length=CHAMFER017_SIZE)

    # Cut107: cut Würfel147
    add(w_rfel147.part, mode=Mode.SUBTRACT)


solid = cut107.part
